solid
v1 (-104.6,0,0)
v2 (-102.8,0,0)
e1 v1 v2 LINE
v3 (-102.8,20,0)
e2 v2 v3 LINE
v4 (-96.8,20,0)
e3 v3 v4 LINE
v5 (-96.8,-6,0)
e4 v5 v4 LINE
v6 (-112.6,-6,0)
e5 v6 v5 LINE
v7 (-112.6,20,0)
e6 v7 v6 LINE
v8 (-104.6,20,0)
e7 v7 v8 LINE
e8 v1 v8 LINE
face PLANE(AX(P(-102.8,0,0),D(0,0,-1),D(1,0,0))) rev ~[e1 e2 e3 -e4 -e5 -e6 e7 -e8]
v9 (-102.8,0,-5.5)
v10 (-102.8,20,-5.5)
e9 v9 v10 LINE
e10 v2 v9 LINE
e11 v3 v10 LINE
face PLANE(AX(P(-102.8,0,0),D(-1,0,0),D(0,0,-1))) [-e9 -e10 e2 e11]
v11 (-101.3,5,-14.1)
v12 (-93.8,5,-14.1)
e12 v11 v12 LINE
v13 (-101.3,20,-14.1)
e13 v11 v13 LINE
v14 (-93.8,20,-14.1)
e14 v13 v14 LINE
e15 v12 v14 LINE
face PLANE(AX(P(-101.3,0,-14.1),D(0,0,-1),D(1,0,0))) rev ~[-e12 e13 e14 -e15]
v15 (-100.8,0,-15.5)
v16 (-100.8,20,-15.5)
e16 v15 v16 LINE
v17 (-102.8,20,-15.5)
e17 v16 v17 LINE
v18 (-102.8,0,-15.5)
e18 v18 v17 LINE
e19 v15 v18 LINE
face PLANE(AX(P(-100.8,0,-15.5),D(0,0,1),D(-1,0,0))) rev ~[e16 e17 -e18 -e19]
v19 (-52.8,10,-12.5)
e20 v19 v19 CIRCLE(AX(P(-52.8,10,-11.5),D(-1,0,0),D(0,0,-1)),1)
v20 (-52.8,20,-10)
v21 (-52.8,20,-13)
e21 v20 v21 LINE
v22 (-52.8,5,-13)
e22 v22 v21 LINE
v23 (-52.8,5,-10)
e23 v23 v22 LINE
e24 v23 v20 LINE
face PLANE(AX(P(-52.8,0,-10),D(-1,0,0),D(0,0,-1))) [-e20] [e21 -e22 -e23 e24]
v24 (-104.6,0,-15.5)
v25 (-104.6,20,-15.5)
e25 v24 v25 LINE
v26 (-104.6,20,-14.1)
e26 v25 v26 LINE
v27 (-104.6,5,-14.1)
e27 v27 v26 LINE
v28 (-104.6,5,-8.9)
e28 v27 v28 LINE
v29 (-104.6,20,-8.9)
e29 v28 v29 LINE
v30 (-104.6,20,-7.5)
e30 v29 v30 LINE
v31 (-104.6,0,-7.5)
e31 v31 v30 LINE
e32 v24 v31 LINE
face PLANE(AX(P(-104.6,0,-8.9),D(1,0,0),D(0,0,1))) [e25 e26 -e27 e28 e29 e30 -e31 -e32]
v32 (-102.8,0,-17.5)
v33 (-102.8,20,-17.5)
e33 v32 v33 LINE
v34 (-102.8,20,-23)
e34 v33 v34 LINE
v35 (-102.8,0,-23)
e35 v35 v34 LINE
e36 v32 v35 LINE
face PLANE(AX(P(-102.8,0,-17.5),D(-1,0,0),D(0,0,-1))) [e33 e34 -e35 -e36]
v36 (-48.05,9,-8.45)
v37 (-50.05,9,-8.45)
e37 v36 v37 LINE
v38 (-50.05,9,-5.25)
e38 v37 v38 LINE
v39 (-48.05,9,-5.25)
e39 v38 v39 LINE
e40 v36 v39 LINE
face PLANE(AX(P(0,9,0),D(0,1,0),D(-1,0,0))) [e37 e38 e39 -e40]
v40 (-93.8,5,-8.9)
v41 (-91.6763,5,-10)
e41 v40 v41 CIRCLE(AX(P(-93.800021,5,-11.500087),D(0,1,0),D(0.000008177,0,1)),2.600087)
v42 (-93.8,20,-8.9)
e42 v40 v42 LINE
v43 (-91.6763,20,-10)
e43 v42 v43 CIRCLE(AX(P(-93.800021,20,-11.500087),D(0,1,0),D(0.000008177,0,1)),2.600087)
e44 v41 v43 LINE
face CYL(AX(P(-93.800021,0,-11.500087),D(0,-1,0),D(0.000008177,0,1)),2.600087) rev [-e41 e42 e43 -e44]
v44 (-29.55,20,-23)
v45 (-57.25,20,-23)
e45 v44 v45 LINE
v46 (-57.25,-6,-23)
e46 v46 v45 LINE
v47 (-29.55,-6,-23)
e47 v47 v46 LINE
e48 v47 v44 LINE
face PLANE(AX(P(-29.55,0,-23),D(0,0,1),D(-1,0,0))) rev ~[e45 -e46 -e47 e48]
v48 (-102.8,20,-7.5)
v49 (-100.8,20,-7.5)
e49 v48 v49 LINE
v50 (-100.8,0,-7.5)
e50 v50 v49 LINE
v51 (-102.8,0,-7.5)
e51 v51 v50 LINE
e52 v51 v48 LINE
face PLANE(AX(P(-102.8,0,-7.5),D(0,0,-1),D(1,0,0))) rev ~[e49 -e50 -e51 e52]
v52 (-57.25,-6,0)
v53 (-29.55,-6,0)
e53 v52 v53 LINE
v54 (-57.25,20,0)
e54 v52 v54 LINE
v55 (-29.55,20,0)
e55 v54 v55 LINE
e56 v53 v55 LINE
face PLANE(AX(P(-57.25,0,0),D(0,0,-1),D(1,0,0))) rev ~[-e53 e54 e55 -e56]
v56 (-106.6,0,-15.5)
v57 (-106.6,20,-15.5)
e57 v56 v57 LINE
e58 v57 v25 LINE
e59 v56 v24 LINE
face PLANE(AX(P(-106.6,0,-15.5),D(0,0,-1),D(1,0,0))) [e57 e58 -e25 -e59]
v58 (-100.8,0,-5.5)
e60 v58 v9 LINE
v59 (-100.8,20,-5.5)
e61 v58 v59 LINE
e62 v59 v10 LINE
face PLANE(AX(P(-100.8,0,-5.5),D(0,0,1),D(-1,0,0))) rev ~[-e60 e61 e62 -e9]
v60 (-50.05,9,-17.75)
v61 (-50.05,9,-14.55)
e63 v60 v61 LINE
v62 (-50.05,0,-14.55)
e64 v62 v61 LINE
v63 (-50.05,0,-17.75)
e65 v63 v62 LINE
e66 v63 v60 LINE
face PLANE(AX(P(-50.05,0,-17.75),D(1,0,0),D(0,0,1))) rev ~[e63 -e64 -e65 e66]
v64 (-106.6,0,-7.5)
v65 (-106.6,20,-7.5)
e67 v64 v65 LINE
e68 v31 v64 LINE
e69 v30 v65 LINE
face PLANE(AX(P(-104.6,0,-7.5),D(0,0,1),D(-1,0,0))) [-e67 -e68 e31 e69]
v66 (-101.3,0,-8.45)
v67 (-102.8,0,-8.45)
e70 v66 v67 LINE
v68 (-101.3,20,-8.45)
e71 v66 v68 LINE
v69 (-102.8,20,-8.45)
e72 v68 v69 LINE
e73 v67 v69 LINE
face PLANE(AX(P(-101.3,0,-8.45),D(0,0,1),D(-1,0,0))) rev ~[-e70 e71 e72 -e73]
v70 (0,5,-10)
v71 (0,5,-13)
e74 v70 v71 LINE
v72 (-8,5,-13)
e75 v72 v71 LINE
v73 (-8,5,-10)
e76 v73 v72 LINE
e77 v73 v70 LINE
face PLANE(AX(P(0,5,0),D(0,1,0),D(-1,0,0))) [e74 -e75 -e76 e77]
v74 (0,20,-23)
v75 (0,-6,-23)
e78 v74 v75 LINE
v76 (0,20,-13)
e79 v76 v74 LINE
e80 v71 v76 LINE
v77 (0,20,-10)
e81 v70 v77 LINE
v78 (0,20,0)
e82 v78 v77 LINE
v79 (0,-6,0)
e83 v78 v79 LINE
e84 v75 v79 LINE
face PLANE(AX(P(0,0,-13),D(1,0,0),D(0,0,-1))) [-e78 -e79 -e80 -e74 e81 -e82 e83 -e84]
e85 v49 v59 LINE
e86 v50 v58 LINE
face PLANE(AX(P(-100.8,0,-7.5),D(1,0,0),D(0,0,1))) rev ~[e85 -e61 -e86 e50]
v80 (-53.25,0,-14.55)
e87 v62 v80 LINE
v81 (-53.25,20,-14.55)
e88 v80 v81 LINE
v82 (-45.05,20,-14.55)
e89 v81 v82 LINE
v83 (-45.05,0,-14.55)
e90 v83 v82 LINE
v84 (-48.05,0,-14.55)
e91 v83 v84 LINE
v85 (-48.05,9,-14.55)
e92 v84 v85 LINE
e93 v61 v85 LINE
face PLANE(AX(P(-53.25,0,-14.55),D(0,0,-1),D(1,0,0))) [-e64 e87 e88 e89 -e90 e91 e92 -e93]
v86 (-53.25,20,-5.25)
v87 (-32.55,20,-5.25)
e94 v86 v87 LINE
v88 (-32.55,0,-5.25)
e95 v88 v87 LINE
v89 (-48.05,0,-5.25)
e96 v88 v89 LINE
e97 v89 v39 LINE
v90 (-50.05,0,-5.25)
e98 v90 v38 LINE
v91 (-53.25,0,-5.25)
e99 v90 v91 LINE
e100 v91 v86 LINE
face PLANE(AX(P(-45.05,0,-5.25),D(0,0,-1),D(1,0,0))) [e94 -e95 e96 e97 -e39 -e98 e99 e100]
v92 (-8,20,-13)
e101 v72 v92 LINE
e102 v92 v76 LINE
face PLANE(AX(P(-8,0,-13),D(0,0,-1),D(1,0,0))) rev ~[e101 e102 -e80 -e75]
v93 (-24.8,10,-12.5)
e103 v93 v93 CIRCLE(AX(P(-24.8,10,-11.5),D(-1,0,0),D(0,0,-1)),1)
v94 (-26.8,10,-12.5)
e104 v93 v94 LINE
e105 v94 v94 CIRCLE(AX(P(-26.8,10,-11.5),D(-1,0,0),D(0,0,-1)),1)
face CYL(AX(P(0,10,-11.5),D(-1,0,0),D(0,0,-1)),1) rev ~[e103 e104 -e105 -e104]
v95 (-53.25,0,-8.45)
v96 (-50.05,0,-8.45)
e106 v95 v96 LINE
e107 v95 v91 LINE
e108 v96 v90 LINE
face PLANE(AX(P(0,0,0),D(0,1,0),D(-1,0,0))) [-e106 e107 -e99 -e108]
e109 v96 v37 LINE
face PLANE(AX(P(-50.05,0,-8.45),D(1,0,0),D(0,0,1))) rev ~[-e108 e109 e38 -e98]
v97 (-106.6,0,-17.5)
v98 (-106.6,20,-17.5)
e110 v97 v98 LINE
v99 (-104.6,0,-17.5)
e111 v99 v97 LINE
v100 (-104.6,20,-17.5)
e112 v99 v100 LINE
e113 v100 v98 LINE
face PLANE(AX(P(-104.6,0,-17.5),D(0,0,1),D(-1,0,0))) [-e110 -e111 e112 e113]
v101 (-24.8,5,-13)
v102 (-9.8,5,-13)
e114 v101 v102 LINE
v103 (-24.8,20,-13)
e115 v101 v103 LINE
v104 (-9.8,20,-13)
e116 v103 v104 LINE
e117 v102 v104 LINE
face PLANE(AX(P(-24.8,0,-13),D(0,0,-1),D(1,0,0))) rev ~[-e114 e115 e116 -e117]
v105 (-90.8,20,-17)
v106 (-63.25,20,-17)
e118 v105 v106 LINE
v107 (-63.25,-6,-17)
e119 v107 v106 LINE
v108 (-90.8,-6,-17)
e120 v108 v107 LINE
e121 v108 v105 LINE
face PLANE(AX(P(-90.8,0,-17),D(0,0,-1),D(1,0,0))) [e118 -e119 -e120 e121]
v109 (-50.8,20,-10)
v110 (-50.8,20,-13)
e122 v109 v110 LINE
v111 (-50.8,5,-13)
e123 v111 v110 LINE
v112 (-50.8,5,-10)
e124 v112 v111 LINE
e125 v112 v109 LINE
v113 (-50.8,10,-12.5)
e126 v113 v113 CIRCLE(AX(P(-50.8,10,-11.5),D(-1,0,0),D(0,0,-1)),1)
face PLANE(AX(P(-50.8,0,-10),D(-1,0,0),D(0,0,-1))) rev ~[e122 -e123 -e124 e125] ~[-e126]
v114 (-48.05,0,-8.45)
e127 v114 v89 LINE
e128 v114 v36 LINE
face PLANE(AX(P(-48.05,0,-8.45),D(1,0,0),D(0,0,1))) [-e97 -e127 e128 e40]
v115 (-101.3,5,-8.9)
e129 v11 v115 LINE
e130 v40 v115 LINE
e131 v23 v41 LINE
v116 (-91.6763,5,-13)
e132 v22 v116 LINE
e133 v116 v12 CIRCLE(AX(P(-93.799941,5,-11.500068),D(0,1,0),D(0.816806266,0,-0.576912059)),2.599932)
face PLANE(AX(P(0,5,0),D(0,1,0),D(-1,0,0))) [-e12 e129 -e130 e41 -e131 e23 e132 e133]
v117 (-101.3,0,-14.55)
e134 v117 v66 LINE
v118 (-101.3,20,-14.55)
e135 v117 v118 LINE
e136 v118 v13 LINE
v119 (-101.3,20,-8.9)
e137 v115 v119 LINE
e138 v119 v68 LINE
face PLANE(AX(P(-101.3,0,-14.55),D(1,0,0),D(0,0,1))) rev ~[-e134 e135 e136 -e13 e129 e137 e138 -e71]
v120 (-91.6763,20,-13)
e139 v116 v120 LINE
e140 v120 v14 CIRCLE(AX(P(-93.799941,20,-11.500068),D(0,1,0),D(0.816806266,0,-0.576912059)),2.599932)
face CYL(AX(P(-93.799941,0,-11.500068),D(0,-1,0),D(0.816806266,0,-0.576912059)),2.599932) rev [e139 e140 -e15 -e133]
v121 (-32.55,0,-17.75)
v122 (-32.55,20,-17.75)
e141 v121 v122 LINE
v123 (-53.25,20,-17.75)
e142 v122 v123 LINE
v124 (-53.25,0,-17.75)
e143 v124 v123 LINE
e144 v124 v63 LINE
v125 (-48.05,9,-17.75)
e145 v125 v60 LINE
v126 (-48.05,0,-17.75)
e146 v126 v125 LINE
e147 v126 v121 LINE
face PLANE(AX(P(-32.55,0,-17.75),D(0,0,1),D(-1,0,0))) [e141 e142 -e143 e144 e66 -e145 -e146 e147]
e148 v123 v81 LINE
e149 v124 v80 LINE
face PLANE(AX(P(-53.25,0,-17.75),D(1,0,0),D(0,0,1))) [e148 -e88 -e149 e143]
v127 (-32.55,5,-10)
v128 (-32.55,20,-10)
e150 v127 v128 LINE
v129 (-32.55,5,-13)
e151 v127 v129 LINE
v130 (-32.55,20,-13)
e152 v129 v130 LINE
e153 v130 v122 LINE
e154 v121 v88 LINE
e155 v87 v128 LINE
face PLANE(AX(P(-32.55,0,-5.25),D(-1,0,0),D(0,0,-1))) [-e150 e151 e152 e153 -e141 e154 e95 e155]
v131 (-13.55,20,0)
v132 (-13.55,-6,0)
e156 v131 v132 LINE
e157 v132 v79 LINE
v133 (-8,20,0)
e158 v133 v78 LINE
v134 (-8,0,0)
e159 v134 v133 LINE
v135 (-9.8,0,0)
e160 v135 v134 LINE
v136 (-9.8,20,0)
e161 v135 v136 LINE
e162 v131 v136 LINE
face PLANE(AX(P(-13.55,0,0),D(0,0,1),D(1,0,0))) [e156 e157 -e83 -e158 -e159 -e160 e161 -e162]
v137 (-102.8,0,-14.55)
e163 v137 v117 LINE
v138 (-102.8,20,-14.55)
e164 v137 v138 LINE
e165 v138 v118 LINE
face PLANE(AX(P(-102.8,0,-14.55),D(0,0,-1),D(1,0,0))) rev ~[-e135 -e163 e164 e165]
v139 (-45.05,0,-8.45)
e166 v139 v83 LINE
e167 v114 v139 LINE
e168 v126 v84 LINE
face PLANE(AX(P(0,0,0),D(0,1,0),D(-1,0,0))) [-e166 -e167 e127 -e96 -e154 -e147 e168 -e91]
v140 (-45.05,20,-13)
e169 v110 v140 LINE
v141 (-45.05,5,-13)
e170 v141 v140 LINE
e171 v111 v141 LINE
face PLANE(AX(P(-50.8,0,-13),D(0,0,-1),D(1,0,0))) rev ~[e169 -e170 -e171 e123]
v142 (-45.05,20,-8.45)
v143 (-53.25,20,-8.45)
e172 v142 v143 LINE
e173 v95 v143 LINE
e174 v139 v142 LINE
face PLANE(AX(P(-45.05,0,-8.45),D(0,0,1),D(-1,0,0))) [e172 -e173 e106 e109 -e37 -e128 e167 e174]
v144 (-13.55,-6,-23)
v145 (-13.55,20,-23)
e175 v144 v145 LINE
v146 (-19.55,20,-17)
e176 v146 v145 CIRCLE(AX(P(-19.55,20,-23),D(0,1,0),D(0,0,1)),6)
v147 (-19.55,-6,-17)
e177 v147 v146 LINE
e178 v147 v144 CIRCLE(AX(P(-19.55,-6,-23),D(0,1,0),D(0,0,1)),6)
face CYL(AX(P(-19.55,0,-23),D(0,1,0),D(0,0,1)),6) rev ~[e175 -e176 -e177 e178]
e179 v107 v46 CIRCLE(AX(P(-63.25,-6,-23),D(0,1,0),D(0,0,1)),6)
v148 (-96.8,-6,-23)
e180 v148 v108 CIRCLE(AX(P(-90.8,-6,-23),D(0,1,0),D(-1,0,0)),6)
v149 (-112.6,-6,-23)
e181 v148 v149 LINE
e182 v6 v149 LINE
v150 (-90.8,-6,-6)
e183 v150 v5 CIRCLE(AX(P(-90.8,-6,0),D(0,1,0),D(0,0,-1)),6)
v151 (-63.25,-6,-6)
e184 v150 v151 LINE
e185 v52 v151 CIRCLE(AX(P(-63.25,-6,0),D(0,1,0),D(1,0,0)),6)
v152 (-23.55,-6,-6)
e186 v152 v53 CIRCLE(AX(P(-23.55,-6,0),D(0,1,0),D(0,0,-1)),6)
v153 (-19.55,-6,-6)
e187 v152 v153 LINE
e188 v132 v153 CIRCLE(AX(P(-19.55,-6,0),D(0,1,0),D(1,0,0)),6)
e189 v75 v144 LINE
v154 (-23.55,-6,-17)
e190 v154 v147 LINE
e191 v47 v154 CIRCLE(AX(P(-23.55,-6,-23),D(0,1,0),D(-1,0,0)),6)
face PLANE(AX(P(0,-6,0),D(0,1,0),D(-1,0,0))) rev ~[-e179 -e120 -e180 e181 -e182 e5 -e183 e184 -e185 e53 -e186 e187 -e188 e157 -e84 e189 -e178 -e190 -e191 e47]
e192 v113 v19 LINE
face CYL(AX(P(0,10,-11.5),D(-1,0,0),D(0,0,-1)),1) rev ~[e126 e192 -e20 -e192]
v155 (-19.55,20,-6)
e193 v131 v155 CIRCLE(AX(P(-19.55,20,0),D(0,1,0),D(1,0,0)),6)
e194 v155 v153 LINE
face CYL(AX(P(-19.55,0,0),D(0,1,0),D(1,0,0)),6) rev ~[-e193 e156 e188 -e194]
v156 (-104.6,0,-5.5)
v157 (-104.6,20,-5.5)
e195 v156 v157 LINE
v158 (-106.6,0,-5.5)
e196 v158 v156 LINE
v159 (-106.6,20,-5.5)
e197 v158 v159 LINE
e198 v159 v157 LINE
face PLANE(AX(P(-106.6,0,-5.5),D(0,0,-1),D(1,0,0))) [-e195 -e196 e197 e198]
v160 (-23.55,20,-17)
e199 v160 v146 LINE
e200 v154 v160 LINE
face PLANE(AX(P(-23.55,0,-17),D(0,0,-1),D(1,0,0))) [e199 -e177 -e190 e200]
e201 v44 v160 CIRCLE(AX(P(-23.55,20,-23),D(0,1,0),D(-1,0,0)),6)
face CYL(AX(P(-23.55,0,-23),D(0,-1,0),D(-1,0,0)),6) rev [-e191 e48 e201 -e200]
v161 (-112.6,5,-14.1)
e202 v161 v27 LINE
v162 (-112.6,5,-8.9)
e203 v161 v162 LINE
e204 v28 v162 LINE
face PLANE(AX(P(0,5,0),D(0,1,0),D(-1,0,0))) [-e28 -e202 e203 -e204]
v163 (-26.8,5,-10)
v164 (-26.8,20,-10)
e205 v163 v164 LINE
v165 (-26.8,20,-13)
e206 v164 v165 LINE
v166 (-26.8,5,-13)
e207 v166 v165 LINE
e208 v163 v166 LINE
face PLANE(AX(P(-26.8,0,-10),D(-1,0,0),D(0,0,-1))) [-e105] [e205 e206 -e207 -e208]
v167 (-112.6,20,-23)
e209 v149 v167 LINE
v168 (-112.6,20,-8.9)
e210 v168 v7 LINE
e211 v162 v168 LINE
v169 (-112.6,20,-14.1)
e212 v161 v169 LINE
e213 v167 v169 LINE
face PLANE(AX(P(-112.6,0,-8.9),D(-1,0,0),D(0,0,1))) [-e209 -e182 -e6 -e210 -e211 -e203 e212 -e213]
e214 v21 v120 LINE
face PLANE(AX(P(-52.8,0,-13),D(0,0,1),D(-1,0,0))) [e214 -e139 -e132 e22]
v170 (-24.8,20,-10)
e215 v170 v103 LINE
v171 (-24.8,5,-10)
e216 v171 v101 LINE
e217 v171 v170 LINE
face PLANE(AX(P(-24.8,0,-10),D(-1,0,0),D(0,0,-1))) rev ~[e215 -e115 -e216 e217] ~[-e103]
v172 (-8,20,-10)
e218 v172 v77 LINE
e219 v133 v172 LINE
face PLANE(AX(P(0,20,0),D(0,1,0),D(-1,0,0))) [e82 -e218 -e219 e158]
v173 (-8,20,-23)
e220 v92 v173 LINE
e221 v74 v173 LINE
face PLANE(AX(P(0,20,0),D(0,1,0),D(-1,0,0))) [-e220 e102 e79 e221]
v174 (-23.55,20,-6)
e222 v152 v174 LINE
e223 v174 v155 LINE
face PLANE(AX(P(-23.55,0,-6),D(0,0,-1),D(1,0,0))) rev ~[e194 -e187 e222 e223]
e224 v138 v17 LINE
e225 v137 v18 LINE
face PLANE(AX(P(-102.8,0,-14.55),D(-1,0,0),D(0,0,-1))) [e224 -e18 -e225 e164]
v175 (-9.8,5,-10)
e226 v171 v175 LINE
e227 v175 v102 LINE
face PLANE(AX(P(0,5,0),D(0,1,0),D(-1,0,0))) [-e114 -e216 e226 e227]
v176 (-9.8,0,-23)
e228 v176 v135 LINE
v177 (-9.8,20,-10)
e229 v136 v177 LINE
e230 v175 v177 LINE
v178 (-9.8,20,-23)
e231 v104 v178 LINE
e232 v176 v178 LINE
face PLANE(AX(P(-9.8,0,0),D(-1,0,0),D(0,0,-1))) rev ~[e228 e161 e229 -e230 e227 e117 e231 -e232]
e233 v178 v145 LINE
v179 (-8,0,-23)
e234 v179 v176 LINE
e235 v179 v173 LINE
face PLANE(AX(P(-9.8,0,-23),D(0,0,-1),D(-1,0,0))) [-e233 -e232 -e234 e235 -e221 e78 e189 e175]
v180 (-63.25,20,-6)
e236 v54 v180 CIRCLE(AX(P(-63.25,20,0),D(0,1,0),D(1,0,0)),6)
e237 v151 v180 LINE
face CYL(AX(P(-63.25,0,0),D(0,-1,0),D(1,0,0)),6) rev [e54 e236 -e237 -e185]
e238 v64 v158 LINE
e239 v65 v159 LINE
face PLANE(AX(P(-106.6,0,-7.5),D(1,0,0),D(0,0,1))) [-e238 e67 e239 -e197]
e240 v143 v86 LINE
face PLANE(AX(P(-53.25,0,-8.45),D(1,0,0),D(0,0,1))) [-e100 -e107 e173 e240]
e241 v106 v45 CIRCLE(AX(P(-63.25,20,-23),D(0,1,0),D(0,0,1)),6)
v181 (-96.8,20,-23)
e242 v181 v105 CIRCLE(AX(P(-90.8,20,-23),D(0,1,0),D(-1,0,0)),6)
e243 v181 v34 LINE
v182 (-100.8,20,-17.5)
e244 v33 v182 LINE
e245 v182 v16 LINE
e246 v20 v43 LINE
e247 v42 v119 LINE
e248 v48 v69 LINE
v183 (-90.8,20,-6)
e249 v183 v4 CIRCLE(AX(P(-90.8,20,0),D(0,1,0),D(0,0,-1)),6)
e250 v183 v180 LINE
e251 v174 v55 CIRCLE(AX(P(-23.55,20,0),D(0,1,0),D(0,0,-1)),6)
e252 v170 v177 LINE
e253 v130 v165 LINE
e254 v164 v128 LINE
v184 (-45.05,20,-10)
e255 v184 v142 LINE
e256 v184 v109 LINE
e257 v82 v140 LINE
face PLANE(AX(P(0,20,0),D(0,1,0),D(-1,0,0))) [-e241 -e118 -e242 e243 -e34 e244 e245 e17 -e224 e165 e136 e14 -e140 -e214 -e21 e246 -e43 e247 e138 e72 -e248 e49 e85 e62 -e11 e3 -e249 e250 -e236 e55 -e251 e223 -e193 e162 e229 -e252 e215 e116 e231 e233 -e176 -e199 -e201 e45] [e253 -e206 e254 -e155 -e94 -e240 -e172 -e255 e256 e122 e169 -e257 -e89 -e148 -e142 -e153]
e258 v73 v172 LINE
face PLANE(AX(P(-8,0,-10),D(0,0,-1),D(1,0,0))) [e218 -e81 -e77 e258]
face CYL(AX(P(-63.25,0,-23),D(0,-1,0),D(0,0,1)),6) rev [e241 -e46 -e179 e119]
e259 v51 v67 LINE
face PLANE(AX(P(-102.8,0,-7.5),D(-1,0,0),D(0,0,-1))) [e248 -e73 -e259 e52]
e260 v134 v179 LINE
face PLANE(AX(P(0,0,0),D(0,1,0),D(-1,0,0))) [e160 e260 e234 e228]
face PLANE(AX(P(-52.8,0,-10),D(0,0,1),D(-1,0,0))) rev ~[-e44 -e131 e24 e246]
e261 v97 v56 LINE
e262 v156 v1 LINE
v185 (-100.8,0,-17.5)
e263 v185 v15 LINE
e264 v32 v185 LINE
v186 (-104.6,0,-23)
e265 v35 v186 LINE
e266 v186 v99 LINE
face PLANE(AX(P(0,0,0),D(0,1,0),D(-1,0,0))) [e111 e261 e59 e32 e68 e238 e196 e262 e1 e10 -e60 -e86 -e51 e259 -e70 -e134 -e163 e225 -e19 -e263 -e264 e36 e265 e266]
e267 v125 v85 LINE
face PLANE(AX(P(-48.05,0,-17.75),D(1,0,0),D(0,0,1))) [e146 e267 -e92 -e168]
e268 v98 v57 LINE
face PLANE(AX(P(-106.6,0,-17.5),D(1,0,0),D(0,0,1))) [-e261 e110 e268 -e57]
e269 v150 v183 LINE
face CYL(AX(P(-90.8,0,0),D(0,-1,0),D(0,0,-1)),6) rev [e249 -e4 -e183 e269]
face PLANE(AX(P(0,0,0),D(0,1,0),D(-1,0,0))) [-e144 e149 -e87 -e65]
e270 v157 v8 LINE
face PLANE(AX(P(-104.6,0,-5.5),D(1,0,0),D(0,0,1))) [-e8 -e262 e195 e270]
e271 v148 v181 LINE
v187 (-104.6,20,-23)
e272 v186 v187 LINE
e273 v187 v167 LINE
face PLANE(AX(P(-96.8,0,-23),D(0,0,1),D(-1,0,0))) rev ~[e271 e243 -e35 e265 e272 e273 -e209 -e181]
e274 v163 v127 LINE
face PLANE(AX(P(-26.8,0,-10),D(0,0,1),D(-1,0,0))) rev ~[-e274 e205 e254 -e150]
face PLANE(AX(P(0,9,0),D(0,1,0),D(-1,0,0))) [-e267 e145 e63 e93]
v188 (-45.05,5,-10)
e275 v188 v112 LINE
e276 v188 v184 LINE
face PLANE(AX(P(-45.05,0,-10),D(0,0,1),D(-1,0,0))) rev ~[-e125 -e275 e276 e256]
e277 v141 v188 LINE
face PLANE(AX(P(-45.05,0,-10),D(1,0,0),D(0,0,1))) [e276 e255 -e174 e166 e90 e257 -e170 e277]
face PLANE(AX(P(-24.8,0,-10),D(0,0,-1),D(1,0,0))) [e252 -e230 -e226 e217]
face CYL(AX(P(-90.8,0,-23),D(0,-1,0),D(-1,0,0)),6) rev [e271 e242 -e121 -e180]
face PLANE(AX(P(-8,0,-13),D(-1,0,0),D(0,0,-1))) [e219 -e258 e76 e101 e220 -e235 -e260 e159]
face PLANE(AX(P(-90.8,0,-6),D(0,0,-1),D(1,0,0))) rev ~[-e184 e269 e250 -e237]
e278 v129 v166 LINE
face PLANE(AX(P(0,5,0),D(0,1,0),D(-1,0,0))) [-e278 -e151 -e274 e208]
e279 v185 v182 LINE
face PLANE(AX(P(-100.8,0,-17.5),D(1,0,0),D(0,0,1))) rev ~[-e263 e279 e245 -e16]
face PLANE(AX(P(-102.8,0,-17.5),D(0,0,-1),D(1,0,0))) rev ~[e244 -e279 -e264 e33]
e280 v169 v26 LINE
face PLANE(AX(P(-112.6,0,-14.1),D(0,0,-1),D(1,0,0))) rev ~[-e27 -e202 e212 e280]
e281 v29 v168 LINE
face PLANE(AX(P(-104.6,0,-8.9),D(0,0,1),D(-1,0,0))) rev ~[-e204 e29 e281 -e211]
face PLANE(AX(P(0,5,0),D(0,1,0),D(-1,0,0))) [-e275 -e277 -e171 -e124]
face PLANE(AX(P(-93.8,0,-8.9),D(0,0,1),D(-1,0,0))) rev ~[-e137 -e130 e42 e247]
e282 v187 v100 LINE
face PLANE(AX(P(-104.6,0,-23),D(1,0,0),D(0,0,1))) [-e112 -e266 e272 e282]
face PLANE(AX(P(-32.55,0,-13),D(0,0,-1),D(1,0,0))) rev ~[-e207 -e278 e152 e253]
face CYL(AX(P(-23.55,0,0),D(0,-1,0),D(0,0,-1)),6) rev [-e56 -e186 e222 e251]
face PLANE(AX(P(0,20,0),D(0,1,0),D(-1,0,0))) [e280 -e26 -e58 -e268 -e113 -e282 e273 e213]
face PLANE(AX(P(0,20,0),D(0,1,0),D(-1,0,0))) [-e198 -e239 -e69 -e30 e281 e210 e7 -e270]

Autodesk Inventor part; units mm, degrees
ref_plane "YZ Plane" through (0, 0, 0) normal (1, 0, 0) x (0, 1, 0)
ref_plane "XZ Plane" through (0, 0, 0) normal (0, 1, 0) x (-1, 0, 0)
ref_plane "XY Plane" through (0, 0, 0) normal (0, 0, 1) x (1, 0, 0)
sketch "Sketch1" plane through (0, 0, 0) normal (0, 1, 0) x (-1, 0, 0)
  line L0 (45.05, -5.25) -> (32.55, -5.25)
  line L1 (32.55, -5.25) -> (32.55, -17.75)
  line L2 (32.55, -17.75) -> (45.05, -17.75)
  line L3 (45.05, -17.75) -> (45.05, -5.25)
  line L4 (0, 0) -> (0, -23)
  line L5 (112.6, -23) -> (112.6, 0)
  line L6 (77.3838, -11.5) -> (49.3838, -11.5) construction
  line L7 (38.8, -2.0322) -> (38.8, -23.0322) construction
  line L8 (93.8, -8.9) -> (112.6, -8.9)
  line L9 (112.6, -14.1) -> (93.8, -14.1)
  line L10 (9.8, 0) -> (9.8, -23)
  line L11 (8, 0) -> (8, -23)
  line L12 (24.8, -10) -> (0, -10)
  line L13 (24.8, -13) -> (0, -13)
  line L14 (102.8, -14.55) -> (101.3, -14.55)
  line L15 (101.3, -14.55) -> (101.3, -8.45)
  line L16 (101.3, -8.45) -> (102.8, -8.45)
  line L17 (50.8, -10) -> (50.8, -13)
  line L18 (50.8, -13) -> (45.05, -13)
  line L19 (45.05, -10) -> (50.8, -10)
  line L20 (32.55, -13) -> (26.8, -13)
  line L21 (26.8, -10) -> (32.55, -10)
  line L22 (102.8, -17.5) -> (100.8, -17.5)
  line L23 (100.8, -17.5) -> (100.8, -15.5)
  line L24 (100.8, -15.5) -> (102.8, -15.5)
  line L25 (102.8, -7.5) -> (100.8, -7.5)
  line L26 (100.8, -7.5) -> (100.8, -5.5)
  line L27 (100.8, -5.5) -> (102.8, -5.5)
  line L28 (137, -16.5) -> (122.5716, -16.5) construction
  line L29 (137, -6.5) -> (123, -6.5) construction
  line L30 (104.6, -17.5) -> (106.6, -17.5)
  line L31 (106.6, -17.5) -> (106.6, -15.5)
  line L32 (106.6, -15.5) -> (104.6, -15.5)
  line L33 (104.6, -7.5) -> (106.6, -7.5)
  line L34 (106.6, -7.5) -> (106.6, -5.5)
  line L35 (106.6, -5.5) -> (104.6, -5.5)
  line L36 (104.6, -23) -> (104.6, -17.5)
  line L37 (102.8, -17.5) -> (102.8, -23)
  line L38 (104.6, -15.5) -> (104.6, -7.5)
  line L39 (104.6, -5.5) -> (104.6, 0)
  line L40 (102.8, 0) -> (102.8, -5.5)
  line L41 (102.8, -7.5) -> (102.8, -15.5)
  line L42 (45.05, -17.75) -> (53.25, -17.75)
  line L43 (53.25, -17.75) -> (53.25, -14.55)
  line L44 (53.25, -14.55) -> (45.05, -14.55)
  line L45 (45.05, -8.45) -> (53.25, -8.45)
  line L46 (53.25, -8.45) -> (53.25, -5.25)
  line L47 (53.25, -5.25) -> (45.05, -5.25)
  line L48 (48.05, -17.75) -> (48.05, -14.55)
  line L49 (50.05, -17.75) -> (50.05, -14.55)
  line L50 (50.05, -8.45) -> (50.05, -5.25)
  line L51 (48.05, -8.45) -> (48.05, -5.25)
  line L52 (52.8, -10) -> (52.8, -13)
  line L53 (26.8, -10) -> (26.8, -13)
  line L54 (24.8, -10) -> (24.8, -13)
  line L55 (52.8, -13) -> (91.6763, -13)
  line L56 (52.8, -10) -> (91.6763, -10)
  arc A0 (93.8, -8.9) -> (91.6763, -10) centre (93.8, -11.5) ccw
  arc A1 (91.6763, -13) -> (93.8, -14.1) centre (93.8, -11.5) ccw
  arc A2 (96.8, -23) -> (90.8, -17) centre (90.8, -23) ccw
  arc A3 (63.25, -17) -> (57.25, -23) centre (63.25, -23) ccw
  arc A4 (90.8, -6) -> (96.8, 0) centre (90.8, 0) ccw
  arc A5 (57.25, 0) -> (63.25, -6) centre (63.25, 0) ccw
  line L57 (90.8, -17) -> (63.25, -17)
  line L58 (90.8, -6) -> (63.25, -6)
  line L59 (112.6, 0) -> (96.8, 0)
  line L60 (96.8, -23) -> (112.6, -23)
  arc A6 (29.55, -23) -> (23.55, -17) centre (23.55, -23) ccw
  arc A7 (23.55, -6) -> (29.55, 0) centre (23.55, 0) ccw
  arc A8 (19.55, -17) -> (13.55, -23) centre (19.55, -23) ccw
  arc A9 (13.55, 0) -> (19.55, -6) centre (19.55, 0) ccw
  line L61 (23.55, -6) -> (19.55, -6)
  line L62 (23.55, -17) -> (19.55, -17)
  line L63 (0, -23) -> (13.55, -23)
  line L64 (29.55, -23) -> (57.25, -23)
  line L65 (57.25, 0) -> (29.55, 0)
  line L66 (13.55, 0) -> (0, 0)
  line L67 (115.3, -25) -> (115.3, 2)
  line L68 (-2.7, 2) -> (-2.7, -25)
  arc A10 (65.25, -19) -> (59.25, -25) centre (65.25, -25) ccw
  arc A11 (94.8, -25) -> (88.8, -19) centre (88.8, -25) ccw
  line L69 (56.3, -20.25) -> (56.3, -1) construction
  arc A12 (59.25, 2) -> (65.25, -4) centre (65.25, 2) ccw
  arc A13 (88.8, -4) -> (94.8, 2) centre (88.8, 2) ccw
  arc A14 (15.55, 2) -> (27.55, 2) centre (21.55, 2) ccw
  arc A15 (27.55, -25) -> (15.55, -25) centre (21.55, -25) ccw
  line L70 (88.8, -19) -> (65.25, -19)
  line L71 (88.8, -4) -> (65.25, -4)
  line L72 (115.3, 2) -> (94.8, 2)
  line L73 (94.8, -25) -> (115.3, -25)
  line L74 (-2.7, -25) -> (15.55, -25)
  line L75 (27.55, -25) -> (59.25, -25)
  line L76 (59.25, 2) -> (27.55, 2)
  line L77 (15.55, 2) -> (-2.7, 2)
  line L78 (125.6323, 7.0516) -> (125.6323, -28.0034) construction
  line L79 (125.6323, -28.0034) -> (118.769, -28.0034) construction
  line L80 (118.769, -28.0034) -> (118.769, 7.0516) construction
  line L81 (118.769, 7.0516) -> (125.6323, 7.0516) construction
  point P0 (104.6, -8.9)
  point P1 (104.6, -14.1)
  point P2 (102.8, -8.9)
  point P3 (102.8, -14.1)
  point P4 (9.8, -13)
  point P5 (8, -13)
  point P6 (8, -10)
  point P7 (9.8, -10)
  point P8 (38.8, -11.5)
  point P9 (101.3, -14.1)
  point P10 (101.3, -8.9)
  dimension "d0" = 12.5
  dimension "d1" = 12.5
  dimension "d3" = 23
  dimension "d12" = 5.2
  dimension "d20" = 1.8
  dimension "d25" = 3
  dimension "d36" = 6.1
  dimension "d37" = 1.5
  dimension "d62" = 3
  dimension "d63" = 3
  dimension "d94" = 2
  dimension "d95" = 2
  dimension "d96" = 10
  dimension "d97" = 1.8
  dimension "d106" = 8.2
  dimension "d107" = 3
  dimension "d108" = 2
  dimension "d109" = 3.2
  dimension "d113" = 1.5
  dimension "d114" = 2
  dimension "d115" = 64
  dimension "d116" = 29
  dimension "d117" = 8
  dimension "d118" = 8
  dimension "d119" = 2
  dimension "d120" = 12
  dimension "d121" = 12
  dimension "d122" = 9
  dimension "d129" = 12
  dimension "d130" = 12
  dimension "d131" = 10
  dimension "d134" = 9
  dimension "d135" = 4
  dimension "d149" = 118
  dimension "d150" = 27
  dimension "d152" = 11
  dimension "d153" = 12
  dimension "d154" = 14
extrude "Extrusion16" add sketch "Sketch1" against normal blind 6 contours L3 L2 L1 L0 | L47 L51 L45 L3 | L47 L50 L45 L51 | L1 L20 L53 L21 | L19 L17 L18 L3 | L47 L46 L45 L50 | L44 L48 L42 L3 | L44 L49 L42 L48 | L44 L43 L42 L49 | L66 L11 L12 L4 | L12 L11 L13 L4 | L66 L10 L12 L11 | L13 L11 L63 L4 | L12 L10 L13 L11 | L66 A9 L61 A7 L65 A5 L58 A4 L59 L40 L27 L26 L25 L41 L16 L15 L8 A0 L56 L52 L55 A1 L9 L14 L24 L23 L22 L37 L60 A2 L57 A3 L64 A6 L62 A8 L63 L10 L13 L54 L12 | L13 L10 L63 L11 | L12 L54 L13 L10 | L59 L39 L35 L34 L33 L38 L8 L41 L25 L26 L27 L40 | L59 L5 L8 L38 L33 L34 L35 L39 | L37 L22 L23 L24 L41 L9 L38 L32 L31 L30 L36 L60 | L5 L9 L38 L8 | L36 L30 L31 L32 L38 L9 L5 L60 | L38 L9 L41 L8 | L41 L8 L15 L16 | L41 L9 L15 L8 | L41 L14 L15 L9 | L15 L9 A1 L55 L52 L56 A0 L8
extrude "Extrusion17" add sketch "Sketch1" along normal blind 20 contours L66 L11 L12 L4 | L13 L11 L63 L4 | L66 A9 L61 A7 L65 A5 L58 A4 L59 L40 L27 L26 L25 L41 L16 L15 L8 A0 L56 L52 L55 A1 L9 L14 L24 L23 L22 L37 L60 A2 L57 A3 L64 A6 L62 A8 L63 L10 L13 L54 L12 | L59 L5 L8 L38 L33 L34 L35 L39 | L36 L30 L31 L32 L38 L9 L5 L60
extrude "Extrusion18" add sketch "Sketch1" along normal blind 5 contours L1 L20 L53 L21 | L19 L17 L18 L3 | L12 L11 L13 L4 | L12 L54 L13 L10 | L5 L9 L38 L8 | L15 L9 A1 L55 L52 L56 A0 L8
extrude "Extrusion19" add sketch "Sketch1" along normal blind 9 contours L47 L50 L45 L51 | L44 L49 L42 L48
sketch "Sketch2" plane through (0, -6, 0) normal (1, 0, 0) x (0, 0, -1)
  line L0 (11.5, 16) -> (11.5, 6.397) construction
  line L1 (0, 6) -> (23, 6) construction
  line L2 (0, 1.5617) -> (0, -5) construction
  line L3 (23, -1.6862) -> (23, -8) construction
  point P0 (11.5, 16)
  dimension "d139" = 10
hole "Hole1" at (0, 10, -11.5) direction (-1, 0, 0) diameter 2 end through all
properties part number "Spirulina_prototype2"
